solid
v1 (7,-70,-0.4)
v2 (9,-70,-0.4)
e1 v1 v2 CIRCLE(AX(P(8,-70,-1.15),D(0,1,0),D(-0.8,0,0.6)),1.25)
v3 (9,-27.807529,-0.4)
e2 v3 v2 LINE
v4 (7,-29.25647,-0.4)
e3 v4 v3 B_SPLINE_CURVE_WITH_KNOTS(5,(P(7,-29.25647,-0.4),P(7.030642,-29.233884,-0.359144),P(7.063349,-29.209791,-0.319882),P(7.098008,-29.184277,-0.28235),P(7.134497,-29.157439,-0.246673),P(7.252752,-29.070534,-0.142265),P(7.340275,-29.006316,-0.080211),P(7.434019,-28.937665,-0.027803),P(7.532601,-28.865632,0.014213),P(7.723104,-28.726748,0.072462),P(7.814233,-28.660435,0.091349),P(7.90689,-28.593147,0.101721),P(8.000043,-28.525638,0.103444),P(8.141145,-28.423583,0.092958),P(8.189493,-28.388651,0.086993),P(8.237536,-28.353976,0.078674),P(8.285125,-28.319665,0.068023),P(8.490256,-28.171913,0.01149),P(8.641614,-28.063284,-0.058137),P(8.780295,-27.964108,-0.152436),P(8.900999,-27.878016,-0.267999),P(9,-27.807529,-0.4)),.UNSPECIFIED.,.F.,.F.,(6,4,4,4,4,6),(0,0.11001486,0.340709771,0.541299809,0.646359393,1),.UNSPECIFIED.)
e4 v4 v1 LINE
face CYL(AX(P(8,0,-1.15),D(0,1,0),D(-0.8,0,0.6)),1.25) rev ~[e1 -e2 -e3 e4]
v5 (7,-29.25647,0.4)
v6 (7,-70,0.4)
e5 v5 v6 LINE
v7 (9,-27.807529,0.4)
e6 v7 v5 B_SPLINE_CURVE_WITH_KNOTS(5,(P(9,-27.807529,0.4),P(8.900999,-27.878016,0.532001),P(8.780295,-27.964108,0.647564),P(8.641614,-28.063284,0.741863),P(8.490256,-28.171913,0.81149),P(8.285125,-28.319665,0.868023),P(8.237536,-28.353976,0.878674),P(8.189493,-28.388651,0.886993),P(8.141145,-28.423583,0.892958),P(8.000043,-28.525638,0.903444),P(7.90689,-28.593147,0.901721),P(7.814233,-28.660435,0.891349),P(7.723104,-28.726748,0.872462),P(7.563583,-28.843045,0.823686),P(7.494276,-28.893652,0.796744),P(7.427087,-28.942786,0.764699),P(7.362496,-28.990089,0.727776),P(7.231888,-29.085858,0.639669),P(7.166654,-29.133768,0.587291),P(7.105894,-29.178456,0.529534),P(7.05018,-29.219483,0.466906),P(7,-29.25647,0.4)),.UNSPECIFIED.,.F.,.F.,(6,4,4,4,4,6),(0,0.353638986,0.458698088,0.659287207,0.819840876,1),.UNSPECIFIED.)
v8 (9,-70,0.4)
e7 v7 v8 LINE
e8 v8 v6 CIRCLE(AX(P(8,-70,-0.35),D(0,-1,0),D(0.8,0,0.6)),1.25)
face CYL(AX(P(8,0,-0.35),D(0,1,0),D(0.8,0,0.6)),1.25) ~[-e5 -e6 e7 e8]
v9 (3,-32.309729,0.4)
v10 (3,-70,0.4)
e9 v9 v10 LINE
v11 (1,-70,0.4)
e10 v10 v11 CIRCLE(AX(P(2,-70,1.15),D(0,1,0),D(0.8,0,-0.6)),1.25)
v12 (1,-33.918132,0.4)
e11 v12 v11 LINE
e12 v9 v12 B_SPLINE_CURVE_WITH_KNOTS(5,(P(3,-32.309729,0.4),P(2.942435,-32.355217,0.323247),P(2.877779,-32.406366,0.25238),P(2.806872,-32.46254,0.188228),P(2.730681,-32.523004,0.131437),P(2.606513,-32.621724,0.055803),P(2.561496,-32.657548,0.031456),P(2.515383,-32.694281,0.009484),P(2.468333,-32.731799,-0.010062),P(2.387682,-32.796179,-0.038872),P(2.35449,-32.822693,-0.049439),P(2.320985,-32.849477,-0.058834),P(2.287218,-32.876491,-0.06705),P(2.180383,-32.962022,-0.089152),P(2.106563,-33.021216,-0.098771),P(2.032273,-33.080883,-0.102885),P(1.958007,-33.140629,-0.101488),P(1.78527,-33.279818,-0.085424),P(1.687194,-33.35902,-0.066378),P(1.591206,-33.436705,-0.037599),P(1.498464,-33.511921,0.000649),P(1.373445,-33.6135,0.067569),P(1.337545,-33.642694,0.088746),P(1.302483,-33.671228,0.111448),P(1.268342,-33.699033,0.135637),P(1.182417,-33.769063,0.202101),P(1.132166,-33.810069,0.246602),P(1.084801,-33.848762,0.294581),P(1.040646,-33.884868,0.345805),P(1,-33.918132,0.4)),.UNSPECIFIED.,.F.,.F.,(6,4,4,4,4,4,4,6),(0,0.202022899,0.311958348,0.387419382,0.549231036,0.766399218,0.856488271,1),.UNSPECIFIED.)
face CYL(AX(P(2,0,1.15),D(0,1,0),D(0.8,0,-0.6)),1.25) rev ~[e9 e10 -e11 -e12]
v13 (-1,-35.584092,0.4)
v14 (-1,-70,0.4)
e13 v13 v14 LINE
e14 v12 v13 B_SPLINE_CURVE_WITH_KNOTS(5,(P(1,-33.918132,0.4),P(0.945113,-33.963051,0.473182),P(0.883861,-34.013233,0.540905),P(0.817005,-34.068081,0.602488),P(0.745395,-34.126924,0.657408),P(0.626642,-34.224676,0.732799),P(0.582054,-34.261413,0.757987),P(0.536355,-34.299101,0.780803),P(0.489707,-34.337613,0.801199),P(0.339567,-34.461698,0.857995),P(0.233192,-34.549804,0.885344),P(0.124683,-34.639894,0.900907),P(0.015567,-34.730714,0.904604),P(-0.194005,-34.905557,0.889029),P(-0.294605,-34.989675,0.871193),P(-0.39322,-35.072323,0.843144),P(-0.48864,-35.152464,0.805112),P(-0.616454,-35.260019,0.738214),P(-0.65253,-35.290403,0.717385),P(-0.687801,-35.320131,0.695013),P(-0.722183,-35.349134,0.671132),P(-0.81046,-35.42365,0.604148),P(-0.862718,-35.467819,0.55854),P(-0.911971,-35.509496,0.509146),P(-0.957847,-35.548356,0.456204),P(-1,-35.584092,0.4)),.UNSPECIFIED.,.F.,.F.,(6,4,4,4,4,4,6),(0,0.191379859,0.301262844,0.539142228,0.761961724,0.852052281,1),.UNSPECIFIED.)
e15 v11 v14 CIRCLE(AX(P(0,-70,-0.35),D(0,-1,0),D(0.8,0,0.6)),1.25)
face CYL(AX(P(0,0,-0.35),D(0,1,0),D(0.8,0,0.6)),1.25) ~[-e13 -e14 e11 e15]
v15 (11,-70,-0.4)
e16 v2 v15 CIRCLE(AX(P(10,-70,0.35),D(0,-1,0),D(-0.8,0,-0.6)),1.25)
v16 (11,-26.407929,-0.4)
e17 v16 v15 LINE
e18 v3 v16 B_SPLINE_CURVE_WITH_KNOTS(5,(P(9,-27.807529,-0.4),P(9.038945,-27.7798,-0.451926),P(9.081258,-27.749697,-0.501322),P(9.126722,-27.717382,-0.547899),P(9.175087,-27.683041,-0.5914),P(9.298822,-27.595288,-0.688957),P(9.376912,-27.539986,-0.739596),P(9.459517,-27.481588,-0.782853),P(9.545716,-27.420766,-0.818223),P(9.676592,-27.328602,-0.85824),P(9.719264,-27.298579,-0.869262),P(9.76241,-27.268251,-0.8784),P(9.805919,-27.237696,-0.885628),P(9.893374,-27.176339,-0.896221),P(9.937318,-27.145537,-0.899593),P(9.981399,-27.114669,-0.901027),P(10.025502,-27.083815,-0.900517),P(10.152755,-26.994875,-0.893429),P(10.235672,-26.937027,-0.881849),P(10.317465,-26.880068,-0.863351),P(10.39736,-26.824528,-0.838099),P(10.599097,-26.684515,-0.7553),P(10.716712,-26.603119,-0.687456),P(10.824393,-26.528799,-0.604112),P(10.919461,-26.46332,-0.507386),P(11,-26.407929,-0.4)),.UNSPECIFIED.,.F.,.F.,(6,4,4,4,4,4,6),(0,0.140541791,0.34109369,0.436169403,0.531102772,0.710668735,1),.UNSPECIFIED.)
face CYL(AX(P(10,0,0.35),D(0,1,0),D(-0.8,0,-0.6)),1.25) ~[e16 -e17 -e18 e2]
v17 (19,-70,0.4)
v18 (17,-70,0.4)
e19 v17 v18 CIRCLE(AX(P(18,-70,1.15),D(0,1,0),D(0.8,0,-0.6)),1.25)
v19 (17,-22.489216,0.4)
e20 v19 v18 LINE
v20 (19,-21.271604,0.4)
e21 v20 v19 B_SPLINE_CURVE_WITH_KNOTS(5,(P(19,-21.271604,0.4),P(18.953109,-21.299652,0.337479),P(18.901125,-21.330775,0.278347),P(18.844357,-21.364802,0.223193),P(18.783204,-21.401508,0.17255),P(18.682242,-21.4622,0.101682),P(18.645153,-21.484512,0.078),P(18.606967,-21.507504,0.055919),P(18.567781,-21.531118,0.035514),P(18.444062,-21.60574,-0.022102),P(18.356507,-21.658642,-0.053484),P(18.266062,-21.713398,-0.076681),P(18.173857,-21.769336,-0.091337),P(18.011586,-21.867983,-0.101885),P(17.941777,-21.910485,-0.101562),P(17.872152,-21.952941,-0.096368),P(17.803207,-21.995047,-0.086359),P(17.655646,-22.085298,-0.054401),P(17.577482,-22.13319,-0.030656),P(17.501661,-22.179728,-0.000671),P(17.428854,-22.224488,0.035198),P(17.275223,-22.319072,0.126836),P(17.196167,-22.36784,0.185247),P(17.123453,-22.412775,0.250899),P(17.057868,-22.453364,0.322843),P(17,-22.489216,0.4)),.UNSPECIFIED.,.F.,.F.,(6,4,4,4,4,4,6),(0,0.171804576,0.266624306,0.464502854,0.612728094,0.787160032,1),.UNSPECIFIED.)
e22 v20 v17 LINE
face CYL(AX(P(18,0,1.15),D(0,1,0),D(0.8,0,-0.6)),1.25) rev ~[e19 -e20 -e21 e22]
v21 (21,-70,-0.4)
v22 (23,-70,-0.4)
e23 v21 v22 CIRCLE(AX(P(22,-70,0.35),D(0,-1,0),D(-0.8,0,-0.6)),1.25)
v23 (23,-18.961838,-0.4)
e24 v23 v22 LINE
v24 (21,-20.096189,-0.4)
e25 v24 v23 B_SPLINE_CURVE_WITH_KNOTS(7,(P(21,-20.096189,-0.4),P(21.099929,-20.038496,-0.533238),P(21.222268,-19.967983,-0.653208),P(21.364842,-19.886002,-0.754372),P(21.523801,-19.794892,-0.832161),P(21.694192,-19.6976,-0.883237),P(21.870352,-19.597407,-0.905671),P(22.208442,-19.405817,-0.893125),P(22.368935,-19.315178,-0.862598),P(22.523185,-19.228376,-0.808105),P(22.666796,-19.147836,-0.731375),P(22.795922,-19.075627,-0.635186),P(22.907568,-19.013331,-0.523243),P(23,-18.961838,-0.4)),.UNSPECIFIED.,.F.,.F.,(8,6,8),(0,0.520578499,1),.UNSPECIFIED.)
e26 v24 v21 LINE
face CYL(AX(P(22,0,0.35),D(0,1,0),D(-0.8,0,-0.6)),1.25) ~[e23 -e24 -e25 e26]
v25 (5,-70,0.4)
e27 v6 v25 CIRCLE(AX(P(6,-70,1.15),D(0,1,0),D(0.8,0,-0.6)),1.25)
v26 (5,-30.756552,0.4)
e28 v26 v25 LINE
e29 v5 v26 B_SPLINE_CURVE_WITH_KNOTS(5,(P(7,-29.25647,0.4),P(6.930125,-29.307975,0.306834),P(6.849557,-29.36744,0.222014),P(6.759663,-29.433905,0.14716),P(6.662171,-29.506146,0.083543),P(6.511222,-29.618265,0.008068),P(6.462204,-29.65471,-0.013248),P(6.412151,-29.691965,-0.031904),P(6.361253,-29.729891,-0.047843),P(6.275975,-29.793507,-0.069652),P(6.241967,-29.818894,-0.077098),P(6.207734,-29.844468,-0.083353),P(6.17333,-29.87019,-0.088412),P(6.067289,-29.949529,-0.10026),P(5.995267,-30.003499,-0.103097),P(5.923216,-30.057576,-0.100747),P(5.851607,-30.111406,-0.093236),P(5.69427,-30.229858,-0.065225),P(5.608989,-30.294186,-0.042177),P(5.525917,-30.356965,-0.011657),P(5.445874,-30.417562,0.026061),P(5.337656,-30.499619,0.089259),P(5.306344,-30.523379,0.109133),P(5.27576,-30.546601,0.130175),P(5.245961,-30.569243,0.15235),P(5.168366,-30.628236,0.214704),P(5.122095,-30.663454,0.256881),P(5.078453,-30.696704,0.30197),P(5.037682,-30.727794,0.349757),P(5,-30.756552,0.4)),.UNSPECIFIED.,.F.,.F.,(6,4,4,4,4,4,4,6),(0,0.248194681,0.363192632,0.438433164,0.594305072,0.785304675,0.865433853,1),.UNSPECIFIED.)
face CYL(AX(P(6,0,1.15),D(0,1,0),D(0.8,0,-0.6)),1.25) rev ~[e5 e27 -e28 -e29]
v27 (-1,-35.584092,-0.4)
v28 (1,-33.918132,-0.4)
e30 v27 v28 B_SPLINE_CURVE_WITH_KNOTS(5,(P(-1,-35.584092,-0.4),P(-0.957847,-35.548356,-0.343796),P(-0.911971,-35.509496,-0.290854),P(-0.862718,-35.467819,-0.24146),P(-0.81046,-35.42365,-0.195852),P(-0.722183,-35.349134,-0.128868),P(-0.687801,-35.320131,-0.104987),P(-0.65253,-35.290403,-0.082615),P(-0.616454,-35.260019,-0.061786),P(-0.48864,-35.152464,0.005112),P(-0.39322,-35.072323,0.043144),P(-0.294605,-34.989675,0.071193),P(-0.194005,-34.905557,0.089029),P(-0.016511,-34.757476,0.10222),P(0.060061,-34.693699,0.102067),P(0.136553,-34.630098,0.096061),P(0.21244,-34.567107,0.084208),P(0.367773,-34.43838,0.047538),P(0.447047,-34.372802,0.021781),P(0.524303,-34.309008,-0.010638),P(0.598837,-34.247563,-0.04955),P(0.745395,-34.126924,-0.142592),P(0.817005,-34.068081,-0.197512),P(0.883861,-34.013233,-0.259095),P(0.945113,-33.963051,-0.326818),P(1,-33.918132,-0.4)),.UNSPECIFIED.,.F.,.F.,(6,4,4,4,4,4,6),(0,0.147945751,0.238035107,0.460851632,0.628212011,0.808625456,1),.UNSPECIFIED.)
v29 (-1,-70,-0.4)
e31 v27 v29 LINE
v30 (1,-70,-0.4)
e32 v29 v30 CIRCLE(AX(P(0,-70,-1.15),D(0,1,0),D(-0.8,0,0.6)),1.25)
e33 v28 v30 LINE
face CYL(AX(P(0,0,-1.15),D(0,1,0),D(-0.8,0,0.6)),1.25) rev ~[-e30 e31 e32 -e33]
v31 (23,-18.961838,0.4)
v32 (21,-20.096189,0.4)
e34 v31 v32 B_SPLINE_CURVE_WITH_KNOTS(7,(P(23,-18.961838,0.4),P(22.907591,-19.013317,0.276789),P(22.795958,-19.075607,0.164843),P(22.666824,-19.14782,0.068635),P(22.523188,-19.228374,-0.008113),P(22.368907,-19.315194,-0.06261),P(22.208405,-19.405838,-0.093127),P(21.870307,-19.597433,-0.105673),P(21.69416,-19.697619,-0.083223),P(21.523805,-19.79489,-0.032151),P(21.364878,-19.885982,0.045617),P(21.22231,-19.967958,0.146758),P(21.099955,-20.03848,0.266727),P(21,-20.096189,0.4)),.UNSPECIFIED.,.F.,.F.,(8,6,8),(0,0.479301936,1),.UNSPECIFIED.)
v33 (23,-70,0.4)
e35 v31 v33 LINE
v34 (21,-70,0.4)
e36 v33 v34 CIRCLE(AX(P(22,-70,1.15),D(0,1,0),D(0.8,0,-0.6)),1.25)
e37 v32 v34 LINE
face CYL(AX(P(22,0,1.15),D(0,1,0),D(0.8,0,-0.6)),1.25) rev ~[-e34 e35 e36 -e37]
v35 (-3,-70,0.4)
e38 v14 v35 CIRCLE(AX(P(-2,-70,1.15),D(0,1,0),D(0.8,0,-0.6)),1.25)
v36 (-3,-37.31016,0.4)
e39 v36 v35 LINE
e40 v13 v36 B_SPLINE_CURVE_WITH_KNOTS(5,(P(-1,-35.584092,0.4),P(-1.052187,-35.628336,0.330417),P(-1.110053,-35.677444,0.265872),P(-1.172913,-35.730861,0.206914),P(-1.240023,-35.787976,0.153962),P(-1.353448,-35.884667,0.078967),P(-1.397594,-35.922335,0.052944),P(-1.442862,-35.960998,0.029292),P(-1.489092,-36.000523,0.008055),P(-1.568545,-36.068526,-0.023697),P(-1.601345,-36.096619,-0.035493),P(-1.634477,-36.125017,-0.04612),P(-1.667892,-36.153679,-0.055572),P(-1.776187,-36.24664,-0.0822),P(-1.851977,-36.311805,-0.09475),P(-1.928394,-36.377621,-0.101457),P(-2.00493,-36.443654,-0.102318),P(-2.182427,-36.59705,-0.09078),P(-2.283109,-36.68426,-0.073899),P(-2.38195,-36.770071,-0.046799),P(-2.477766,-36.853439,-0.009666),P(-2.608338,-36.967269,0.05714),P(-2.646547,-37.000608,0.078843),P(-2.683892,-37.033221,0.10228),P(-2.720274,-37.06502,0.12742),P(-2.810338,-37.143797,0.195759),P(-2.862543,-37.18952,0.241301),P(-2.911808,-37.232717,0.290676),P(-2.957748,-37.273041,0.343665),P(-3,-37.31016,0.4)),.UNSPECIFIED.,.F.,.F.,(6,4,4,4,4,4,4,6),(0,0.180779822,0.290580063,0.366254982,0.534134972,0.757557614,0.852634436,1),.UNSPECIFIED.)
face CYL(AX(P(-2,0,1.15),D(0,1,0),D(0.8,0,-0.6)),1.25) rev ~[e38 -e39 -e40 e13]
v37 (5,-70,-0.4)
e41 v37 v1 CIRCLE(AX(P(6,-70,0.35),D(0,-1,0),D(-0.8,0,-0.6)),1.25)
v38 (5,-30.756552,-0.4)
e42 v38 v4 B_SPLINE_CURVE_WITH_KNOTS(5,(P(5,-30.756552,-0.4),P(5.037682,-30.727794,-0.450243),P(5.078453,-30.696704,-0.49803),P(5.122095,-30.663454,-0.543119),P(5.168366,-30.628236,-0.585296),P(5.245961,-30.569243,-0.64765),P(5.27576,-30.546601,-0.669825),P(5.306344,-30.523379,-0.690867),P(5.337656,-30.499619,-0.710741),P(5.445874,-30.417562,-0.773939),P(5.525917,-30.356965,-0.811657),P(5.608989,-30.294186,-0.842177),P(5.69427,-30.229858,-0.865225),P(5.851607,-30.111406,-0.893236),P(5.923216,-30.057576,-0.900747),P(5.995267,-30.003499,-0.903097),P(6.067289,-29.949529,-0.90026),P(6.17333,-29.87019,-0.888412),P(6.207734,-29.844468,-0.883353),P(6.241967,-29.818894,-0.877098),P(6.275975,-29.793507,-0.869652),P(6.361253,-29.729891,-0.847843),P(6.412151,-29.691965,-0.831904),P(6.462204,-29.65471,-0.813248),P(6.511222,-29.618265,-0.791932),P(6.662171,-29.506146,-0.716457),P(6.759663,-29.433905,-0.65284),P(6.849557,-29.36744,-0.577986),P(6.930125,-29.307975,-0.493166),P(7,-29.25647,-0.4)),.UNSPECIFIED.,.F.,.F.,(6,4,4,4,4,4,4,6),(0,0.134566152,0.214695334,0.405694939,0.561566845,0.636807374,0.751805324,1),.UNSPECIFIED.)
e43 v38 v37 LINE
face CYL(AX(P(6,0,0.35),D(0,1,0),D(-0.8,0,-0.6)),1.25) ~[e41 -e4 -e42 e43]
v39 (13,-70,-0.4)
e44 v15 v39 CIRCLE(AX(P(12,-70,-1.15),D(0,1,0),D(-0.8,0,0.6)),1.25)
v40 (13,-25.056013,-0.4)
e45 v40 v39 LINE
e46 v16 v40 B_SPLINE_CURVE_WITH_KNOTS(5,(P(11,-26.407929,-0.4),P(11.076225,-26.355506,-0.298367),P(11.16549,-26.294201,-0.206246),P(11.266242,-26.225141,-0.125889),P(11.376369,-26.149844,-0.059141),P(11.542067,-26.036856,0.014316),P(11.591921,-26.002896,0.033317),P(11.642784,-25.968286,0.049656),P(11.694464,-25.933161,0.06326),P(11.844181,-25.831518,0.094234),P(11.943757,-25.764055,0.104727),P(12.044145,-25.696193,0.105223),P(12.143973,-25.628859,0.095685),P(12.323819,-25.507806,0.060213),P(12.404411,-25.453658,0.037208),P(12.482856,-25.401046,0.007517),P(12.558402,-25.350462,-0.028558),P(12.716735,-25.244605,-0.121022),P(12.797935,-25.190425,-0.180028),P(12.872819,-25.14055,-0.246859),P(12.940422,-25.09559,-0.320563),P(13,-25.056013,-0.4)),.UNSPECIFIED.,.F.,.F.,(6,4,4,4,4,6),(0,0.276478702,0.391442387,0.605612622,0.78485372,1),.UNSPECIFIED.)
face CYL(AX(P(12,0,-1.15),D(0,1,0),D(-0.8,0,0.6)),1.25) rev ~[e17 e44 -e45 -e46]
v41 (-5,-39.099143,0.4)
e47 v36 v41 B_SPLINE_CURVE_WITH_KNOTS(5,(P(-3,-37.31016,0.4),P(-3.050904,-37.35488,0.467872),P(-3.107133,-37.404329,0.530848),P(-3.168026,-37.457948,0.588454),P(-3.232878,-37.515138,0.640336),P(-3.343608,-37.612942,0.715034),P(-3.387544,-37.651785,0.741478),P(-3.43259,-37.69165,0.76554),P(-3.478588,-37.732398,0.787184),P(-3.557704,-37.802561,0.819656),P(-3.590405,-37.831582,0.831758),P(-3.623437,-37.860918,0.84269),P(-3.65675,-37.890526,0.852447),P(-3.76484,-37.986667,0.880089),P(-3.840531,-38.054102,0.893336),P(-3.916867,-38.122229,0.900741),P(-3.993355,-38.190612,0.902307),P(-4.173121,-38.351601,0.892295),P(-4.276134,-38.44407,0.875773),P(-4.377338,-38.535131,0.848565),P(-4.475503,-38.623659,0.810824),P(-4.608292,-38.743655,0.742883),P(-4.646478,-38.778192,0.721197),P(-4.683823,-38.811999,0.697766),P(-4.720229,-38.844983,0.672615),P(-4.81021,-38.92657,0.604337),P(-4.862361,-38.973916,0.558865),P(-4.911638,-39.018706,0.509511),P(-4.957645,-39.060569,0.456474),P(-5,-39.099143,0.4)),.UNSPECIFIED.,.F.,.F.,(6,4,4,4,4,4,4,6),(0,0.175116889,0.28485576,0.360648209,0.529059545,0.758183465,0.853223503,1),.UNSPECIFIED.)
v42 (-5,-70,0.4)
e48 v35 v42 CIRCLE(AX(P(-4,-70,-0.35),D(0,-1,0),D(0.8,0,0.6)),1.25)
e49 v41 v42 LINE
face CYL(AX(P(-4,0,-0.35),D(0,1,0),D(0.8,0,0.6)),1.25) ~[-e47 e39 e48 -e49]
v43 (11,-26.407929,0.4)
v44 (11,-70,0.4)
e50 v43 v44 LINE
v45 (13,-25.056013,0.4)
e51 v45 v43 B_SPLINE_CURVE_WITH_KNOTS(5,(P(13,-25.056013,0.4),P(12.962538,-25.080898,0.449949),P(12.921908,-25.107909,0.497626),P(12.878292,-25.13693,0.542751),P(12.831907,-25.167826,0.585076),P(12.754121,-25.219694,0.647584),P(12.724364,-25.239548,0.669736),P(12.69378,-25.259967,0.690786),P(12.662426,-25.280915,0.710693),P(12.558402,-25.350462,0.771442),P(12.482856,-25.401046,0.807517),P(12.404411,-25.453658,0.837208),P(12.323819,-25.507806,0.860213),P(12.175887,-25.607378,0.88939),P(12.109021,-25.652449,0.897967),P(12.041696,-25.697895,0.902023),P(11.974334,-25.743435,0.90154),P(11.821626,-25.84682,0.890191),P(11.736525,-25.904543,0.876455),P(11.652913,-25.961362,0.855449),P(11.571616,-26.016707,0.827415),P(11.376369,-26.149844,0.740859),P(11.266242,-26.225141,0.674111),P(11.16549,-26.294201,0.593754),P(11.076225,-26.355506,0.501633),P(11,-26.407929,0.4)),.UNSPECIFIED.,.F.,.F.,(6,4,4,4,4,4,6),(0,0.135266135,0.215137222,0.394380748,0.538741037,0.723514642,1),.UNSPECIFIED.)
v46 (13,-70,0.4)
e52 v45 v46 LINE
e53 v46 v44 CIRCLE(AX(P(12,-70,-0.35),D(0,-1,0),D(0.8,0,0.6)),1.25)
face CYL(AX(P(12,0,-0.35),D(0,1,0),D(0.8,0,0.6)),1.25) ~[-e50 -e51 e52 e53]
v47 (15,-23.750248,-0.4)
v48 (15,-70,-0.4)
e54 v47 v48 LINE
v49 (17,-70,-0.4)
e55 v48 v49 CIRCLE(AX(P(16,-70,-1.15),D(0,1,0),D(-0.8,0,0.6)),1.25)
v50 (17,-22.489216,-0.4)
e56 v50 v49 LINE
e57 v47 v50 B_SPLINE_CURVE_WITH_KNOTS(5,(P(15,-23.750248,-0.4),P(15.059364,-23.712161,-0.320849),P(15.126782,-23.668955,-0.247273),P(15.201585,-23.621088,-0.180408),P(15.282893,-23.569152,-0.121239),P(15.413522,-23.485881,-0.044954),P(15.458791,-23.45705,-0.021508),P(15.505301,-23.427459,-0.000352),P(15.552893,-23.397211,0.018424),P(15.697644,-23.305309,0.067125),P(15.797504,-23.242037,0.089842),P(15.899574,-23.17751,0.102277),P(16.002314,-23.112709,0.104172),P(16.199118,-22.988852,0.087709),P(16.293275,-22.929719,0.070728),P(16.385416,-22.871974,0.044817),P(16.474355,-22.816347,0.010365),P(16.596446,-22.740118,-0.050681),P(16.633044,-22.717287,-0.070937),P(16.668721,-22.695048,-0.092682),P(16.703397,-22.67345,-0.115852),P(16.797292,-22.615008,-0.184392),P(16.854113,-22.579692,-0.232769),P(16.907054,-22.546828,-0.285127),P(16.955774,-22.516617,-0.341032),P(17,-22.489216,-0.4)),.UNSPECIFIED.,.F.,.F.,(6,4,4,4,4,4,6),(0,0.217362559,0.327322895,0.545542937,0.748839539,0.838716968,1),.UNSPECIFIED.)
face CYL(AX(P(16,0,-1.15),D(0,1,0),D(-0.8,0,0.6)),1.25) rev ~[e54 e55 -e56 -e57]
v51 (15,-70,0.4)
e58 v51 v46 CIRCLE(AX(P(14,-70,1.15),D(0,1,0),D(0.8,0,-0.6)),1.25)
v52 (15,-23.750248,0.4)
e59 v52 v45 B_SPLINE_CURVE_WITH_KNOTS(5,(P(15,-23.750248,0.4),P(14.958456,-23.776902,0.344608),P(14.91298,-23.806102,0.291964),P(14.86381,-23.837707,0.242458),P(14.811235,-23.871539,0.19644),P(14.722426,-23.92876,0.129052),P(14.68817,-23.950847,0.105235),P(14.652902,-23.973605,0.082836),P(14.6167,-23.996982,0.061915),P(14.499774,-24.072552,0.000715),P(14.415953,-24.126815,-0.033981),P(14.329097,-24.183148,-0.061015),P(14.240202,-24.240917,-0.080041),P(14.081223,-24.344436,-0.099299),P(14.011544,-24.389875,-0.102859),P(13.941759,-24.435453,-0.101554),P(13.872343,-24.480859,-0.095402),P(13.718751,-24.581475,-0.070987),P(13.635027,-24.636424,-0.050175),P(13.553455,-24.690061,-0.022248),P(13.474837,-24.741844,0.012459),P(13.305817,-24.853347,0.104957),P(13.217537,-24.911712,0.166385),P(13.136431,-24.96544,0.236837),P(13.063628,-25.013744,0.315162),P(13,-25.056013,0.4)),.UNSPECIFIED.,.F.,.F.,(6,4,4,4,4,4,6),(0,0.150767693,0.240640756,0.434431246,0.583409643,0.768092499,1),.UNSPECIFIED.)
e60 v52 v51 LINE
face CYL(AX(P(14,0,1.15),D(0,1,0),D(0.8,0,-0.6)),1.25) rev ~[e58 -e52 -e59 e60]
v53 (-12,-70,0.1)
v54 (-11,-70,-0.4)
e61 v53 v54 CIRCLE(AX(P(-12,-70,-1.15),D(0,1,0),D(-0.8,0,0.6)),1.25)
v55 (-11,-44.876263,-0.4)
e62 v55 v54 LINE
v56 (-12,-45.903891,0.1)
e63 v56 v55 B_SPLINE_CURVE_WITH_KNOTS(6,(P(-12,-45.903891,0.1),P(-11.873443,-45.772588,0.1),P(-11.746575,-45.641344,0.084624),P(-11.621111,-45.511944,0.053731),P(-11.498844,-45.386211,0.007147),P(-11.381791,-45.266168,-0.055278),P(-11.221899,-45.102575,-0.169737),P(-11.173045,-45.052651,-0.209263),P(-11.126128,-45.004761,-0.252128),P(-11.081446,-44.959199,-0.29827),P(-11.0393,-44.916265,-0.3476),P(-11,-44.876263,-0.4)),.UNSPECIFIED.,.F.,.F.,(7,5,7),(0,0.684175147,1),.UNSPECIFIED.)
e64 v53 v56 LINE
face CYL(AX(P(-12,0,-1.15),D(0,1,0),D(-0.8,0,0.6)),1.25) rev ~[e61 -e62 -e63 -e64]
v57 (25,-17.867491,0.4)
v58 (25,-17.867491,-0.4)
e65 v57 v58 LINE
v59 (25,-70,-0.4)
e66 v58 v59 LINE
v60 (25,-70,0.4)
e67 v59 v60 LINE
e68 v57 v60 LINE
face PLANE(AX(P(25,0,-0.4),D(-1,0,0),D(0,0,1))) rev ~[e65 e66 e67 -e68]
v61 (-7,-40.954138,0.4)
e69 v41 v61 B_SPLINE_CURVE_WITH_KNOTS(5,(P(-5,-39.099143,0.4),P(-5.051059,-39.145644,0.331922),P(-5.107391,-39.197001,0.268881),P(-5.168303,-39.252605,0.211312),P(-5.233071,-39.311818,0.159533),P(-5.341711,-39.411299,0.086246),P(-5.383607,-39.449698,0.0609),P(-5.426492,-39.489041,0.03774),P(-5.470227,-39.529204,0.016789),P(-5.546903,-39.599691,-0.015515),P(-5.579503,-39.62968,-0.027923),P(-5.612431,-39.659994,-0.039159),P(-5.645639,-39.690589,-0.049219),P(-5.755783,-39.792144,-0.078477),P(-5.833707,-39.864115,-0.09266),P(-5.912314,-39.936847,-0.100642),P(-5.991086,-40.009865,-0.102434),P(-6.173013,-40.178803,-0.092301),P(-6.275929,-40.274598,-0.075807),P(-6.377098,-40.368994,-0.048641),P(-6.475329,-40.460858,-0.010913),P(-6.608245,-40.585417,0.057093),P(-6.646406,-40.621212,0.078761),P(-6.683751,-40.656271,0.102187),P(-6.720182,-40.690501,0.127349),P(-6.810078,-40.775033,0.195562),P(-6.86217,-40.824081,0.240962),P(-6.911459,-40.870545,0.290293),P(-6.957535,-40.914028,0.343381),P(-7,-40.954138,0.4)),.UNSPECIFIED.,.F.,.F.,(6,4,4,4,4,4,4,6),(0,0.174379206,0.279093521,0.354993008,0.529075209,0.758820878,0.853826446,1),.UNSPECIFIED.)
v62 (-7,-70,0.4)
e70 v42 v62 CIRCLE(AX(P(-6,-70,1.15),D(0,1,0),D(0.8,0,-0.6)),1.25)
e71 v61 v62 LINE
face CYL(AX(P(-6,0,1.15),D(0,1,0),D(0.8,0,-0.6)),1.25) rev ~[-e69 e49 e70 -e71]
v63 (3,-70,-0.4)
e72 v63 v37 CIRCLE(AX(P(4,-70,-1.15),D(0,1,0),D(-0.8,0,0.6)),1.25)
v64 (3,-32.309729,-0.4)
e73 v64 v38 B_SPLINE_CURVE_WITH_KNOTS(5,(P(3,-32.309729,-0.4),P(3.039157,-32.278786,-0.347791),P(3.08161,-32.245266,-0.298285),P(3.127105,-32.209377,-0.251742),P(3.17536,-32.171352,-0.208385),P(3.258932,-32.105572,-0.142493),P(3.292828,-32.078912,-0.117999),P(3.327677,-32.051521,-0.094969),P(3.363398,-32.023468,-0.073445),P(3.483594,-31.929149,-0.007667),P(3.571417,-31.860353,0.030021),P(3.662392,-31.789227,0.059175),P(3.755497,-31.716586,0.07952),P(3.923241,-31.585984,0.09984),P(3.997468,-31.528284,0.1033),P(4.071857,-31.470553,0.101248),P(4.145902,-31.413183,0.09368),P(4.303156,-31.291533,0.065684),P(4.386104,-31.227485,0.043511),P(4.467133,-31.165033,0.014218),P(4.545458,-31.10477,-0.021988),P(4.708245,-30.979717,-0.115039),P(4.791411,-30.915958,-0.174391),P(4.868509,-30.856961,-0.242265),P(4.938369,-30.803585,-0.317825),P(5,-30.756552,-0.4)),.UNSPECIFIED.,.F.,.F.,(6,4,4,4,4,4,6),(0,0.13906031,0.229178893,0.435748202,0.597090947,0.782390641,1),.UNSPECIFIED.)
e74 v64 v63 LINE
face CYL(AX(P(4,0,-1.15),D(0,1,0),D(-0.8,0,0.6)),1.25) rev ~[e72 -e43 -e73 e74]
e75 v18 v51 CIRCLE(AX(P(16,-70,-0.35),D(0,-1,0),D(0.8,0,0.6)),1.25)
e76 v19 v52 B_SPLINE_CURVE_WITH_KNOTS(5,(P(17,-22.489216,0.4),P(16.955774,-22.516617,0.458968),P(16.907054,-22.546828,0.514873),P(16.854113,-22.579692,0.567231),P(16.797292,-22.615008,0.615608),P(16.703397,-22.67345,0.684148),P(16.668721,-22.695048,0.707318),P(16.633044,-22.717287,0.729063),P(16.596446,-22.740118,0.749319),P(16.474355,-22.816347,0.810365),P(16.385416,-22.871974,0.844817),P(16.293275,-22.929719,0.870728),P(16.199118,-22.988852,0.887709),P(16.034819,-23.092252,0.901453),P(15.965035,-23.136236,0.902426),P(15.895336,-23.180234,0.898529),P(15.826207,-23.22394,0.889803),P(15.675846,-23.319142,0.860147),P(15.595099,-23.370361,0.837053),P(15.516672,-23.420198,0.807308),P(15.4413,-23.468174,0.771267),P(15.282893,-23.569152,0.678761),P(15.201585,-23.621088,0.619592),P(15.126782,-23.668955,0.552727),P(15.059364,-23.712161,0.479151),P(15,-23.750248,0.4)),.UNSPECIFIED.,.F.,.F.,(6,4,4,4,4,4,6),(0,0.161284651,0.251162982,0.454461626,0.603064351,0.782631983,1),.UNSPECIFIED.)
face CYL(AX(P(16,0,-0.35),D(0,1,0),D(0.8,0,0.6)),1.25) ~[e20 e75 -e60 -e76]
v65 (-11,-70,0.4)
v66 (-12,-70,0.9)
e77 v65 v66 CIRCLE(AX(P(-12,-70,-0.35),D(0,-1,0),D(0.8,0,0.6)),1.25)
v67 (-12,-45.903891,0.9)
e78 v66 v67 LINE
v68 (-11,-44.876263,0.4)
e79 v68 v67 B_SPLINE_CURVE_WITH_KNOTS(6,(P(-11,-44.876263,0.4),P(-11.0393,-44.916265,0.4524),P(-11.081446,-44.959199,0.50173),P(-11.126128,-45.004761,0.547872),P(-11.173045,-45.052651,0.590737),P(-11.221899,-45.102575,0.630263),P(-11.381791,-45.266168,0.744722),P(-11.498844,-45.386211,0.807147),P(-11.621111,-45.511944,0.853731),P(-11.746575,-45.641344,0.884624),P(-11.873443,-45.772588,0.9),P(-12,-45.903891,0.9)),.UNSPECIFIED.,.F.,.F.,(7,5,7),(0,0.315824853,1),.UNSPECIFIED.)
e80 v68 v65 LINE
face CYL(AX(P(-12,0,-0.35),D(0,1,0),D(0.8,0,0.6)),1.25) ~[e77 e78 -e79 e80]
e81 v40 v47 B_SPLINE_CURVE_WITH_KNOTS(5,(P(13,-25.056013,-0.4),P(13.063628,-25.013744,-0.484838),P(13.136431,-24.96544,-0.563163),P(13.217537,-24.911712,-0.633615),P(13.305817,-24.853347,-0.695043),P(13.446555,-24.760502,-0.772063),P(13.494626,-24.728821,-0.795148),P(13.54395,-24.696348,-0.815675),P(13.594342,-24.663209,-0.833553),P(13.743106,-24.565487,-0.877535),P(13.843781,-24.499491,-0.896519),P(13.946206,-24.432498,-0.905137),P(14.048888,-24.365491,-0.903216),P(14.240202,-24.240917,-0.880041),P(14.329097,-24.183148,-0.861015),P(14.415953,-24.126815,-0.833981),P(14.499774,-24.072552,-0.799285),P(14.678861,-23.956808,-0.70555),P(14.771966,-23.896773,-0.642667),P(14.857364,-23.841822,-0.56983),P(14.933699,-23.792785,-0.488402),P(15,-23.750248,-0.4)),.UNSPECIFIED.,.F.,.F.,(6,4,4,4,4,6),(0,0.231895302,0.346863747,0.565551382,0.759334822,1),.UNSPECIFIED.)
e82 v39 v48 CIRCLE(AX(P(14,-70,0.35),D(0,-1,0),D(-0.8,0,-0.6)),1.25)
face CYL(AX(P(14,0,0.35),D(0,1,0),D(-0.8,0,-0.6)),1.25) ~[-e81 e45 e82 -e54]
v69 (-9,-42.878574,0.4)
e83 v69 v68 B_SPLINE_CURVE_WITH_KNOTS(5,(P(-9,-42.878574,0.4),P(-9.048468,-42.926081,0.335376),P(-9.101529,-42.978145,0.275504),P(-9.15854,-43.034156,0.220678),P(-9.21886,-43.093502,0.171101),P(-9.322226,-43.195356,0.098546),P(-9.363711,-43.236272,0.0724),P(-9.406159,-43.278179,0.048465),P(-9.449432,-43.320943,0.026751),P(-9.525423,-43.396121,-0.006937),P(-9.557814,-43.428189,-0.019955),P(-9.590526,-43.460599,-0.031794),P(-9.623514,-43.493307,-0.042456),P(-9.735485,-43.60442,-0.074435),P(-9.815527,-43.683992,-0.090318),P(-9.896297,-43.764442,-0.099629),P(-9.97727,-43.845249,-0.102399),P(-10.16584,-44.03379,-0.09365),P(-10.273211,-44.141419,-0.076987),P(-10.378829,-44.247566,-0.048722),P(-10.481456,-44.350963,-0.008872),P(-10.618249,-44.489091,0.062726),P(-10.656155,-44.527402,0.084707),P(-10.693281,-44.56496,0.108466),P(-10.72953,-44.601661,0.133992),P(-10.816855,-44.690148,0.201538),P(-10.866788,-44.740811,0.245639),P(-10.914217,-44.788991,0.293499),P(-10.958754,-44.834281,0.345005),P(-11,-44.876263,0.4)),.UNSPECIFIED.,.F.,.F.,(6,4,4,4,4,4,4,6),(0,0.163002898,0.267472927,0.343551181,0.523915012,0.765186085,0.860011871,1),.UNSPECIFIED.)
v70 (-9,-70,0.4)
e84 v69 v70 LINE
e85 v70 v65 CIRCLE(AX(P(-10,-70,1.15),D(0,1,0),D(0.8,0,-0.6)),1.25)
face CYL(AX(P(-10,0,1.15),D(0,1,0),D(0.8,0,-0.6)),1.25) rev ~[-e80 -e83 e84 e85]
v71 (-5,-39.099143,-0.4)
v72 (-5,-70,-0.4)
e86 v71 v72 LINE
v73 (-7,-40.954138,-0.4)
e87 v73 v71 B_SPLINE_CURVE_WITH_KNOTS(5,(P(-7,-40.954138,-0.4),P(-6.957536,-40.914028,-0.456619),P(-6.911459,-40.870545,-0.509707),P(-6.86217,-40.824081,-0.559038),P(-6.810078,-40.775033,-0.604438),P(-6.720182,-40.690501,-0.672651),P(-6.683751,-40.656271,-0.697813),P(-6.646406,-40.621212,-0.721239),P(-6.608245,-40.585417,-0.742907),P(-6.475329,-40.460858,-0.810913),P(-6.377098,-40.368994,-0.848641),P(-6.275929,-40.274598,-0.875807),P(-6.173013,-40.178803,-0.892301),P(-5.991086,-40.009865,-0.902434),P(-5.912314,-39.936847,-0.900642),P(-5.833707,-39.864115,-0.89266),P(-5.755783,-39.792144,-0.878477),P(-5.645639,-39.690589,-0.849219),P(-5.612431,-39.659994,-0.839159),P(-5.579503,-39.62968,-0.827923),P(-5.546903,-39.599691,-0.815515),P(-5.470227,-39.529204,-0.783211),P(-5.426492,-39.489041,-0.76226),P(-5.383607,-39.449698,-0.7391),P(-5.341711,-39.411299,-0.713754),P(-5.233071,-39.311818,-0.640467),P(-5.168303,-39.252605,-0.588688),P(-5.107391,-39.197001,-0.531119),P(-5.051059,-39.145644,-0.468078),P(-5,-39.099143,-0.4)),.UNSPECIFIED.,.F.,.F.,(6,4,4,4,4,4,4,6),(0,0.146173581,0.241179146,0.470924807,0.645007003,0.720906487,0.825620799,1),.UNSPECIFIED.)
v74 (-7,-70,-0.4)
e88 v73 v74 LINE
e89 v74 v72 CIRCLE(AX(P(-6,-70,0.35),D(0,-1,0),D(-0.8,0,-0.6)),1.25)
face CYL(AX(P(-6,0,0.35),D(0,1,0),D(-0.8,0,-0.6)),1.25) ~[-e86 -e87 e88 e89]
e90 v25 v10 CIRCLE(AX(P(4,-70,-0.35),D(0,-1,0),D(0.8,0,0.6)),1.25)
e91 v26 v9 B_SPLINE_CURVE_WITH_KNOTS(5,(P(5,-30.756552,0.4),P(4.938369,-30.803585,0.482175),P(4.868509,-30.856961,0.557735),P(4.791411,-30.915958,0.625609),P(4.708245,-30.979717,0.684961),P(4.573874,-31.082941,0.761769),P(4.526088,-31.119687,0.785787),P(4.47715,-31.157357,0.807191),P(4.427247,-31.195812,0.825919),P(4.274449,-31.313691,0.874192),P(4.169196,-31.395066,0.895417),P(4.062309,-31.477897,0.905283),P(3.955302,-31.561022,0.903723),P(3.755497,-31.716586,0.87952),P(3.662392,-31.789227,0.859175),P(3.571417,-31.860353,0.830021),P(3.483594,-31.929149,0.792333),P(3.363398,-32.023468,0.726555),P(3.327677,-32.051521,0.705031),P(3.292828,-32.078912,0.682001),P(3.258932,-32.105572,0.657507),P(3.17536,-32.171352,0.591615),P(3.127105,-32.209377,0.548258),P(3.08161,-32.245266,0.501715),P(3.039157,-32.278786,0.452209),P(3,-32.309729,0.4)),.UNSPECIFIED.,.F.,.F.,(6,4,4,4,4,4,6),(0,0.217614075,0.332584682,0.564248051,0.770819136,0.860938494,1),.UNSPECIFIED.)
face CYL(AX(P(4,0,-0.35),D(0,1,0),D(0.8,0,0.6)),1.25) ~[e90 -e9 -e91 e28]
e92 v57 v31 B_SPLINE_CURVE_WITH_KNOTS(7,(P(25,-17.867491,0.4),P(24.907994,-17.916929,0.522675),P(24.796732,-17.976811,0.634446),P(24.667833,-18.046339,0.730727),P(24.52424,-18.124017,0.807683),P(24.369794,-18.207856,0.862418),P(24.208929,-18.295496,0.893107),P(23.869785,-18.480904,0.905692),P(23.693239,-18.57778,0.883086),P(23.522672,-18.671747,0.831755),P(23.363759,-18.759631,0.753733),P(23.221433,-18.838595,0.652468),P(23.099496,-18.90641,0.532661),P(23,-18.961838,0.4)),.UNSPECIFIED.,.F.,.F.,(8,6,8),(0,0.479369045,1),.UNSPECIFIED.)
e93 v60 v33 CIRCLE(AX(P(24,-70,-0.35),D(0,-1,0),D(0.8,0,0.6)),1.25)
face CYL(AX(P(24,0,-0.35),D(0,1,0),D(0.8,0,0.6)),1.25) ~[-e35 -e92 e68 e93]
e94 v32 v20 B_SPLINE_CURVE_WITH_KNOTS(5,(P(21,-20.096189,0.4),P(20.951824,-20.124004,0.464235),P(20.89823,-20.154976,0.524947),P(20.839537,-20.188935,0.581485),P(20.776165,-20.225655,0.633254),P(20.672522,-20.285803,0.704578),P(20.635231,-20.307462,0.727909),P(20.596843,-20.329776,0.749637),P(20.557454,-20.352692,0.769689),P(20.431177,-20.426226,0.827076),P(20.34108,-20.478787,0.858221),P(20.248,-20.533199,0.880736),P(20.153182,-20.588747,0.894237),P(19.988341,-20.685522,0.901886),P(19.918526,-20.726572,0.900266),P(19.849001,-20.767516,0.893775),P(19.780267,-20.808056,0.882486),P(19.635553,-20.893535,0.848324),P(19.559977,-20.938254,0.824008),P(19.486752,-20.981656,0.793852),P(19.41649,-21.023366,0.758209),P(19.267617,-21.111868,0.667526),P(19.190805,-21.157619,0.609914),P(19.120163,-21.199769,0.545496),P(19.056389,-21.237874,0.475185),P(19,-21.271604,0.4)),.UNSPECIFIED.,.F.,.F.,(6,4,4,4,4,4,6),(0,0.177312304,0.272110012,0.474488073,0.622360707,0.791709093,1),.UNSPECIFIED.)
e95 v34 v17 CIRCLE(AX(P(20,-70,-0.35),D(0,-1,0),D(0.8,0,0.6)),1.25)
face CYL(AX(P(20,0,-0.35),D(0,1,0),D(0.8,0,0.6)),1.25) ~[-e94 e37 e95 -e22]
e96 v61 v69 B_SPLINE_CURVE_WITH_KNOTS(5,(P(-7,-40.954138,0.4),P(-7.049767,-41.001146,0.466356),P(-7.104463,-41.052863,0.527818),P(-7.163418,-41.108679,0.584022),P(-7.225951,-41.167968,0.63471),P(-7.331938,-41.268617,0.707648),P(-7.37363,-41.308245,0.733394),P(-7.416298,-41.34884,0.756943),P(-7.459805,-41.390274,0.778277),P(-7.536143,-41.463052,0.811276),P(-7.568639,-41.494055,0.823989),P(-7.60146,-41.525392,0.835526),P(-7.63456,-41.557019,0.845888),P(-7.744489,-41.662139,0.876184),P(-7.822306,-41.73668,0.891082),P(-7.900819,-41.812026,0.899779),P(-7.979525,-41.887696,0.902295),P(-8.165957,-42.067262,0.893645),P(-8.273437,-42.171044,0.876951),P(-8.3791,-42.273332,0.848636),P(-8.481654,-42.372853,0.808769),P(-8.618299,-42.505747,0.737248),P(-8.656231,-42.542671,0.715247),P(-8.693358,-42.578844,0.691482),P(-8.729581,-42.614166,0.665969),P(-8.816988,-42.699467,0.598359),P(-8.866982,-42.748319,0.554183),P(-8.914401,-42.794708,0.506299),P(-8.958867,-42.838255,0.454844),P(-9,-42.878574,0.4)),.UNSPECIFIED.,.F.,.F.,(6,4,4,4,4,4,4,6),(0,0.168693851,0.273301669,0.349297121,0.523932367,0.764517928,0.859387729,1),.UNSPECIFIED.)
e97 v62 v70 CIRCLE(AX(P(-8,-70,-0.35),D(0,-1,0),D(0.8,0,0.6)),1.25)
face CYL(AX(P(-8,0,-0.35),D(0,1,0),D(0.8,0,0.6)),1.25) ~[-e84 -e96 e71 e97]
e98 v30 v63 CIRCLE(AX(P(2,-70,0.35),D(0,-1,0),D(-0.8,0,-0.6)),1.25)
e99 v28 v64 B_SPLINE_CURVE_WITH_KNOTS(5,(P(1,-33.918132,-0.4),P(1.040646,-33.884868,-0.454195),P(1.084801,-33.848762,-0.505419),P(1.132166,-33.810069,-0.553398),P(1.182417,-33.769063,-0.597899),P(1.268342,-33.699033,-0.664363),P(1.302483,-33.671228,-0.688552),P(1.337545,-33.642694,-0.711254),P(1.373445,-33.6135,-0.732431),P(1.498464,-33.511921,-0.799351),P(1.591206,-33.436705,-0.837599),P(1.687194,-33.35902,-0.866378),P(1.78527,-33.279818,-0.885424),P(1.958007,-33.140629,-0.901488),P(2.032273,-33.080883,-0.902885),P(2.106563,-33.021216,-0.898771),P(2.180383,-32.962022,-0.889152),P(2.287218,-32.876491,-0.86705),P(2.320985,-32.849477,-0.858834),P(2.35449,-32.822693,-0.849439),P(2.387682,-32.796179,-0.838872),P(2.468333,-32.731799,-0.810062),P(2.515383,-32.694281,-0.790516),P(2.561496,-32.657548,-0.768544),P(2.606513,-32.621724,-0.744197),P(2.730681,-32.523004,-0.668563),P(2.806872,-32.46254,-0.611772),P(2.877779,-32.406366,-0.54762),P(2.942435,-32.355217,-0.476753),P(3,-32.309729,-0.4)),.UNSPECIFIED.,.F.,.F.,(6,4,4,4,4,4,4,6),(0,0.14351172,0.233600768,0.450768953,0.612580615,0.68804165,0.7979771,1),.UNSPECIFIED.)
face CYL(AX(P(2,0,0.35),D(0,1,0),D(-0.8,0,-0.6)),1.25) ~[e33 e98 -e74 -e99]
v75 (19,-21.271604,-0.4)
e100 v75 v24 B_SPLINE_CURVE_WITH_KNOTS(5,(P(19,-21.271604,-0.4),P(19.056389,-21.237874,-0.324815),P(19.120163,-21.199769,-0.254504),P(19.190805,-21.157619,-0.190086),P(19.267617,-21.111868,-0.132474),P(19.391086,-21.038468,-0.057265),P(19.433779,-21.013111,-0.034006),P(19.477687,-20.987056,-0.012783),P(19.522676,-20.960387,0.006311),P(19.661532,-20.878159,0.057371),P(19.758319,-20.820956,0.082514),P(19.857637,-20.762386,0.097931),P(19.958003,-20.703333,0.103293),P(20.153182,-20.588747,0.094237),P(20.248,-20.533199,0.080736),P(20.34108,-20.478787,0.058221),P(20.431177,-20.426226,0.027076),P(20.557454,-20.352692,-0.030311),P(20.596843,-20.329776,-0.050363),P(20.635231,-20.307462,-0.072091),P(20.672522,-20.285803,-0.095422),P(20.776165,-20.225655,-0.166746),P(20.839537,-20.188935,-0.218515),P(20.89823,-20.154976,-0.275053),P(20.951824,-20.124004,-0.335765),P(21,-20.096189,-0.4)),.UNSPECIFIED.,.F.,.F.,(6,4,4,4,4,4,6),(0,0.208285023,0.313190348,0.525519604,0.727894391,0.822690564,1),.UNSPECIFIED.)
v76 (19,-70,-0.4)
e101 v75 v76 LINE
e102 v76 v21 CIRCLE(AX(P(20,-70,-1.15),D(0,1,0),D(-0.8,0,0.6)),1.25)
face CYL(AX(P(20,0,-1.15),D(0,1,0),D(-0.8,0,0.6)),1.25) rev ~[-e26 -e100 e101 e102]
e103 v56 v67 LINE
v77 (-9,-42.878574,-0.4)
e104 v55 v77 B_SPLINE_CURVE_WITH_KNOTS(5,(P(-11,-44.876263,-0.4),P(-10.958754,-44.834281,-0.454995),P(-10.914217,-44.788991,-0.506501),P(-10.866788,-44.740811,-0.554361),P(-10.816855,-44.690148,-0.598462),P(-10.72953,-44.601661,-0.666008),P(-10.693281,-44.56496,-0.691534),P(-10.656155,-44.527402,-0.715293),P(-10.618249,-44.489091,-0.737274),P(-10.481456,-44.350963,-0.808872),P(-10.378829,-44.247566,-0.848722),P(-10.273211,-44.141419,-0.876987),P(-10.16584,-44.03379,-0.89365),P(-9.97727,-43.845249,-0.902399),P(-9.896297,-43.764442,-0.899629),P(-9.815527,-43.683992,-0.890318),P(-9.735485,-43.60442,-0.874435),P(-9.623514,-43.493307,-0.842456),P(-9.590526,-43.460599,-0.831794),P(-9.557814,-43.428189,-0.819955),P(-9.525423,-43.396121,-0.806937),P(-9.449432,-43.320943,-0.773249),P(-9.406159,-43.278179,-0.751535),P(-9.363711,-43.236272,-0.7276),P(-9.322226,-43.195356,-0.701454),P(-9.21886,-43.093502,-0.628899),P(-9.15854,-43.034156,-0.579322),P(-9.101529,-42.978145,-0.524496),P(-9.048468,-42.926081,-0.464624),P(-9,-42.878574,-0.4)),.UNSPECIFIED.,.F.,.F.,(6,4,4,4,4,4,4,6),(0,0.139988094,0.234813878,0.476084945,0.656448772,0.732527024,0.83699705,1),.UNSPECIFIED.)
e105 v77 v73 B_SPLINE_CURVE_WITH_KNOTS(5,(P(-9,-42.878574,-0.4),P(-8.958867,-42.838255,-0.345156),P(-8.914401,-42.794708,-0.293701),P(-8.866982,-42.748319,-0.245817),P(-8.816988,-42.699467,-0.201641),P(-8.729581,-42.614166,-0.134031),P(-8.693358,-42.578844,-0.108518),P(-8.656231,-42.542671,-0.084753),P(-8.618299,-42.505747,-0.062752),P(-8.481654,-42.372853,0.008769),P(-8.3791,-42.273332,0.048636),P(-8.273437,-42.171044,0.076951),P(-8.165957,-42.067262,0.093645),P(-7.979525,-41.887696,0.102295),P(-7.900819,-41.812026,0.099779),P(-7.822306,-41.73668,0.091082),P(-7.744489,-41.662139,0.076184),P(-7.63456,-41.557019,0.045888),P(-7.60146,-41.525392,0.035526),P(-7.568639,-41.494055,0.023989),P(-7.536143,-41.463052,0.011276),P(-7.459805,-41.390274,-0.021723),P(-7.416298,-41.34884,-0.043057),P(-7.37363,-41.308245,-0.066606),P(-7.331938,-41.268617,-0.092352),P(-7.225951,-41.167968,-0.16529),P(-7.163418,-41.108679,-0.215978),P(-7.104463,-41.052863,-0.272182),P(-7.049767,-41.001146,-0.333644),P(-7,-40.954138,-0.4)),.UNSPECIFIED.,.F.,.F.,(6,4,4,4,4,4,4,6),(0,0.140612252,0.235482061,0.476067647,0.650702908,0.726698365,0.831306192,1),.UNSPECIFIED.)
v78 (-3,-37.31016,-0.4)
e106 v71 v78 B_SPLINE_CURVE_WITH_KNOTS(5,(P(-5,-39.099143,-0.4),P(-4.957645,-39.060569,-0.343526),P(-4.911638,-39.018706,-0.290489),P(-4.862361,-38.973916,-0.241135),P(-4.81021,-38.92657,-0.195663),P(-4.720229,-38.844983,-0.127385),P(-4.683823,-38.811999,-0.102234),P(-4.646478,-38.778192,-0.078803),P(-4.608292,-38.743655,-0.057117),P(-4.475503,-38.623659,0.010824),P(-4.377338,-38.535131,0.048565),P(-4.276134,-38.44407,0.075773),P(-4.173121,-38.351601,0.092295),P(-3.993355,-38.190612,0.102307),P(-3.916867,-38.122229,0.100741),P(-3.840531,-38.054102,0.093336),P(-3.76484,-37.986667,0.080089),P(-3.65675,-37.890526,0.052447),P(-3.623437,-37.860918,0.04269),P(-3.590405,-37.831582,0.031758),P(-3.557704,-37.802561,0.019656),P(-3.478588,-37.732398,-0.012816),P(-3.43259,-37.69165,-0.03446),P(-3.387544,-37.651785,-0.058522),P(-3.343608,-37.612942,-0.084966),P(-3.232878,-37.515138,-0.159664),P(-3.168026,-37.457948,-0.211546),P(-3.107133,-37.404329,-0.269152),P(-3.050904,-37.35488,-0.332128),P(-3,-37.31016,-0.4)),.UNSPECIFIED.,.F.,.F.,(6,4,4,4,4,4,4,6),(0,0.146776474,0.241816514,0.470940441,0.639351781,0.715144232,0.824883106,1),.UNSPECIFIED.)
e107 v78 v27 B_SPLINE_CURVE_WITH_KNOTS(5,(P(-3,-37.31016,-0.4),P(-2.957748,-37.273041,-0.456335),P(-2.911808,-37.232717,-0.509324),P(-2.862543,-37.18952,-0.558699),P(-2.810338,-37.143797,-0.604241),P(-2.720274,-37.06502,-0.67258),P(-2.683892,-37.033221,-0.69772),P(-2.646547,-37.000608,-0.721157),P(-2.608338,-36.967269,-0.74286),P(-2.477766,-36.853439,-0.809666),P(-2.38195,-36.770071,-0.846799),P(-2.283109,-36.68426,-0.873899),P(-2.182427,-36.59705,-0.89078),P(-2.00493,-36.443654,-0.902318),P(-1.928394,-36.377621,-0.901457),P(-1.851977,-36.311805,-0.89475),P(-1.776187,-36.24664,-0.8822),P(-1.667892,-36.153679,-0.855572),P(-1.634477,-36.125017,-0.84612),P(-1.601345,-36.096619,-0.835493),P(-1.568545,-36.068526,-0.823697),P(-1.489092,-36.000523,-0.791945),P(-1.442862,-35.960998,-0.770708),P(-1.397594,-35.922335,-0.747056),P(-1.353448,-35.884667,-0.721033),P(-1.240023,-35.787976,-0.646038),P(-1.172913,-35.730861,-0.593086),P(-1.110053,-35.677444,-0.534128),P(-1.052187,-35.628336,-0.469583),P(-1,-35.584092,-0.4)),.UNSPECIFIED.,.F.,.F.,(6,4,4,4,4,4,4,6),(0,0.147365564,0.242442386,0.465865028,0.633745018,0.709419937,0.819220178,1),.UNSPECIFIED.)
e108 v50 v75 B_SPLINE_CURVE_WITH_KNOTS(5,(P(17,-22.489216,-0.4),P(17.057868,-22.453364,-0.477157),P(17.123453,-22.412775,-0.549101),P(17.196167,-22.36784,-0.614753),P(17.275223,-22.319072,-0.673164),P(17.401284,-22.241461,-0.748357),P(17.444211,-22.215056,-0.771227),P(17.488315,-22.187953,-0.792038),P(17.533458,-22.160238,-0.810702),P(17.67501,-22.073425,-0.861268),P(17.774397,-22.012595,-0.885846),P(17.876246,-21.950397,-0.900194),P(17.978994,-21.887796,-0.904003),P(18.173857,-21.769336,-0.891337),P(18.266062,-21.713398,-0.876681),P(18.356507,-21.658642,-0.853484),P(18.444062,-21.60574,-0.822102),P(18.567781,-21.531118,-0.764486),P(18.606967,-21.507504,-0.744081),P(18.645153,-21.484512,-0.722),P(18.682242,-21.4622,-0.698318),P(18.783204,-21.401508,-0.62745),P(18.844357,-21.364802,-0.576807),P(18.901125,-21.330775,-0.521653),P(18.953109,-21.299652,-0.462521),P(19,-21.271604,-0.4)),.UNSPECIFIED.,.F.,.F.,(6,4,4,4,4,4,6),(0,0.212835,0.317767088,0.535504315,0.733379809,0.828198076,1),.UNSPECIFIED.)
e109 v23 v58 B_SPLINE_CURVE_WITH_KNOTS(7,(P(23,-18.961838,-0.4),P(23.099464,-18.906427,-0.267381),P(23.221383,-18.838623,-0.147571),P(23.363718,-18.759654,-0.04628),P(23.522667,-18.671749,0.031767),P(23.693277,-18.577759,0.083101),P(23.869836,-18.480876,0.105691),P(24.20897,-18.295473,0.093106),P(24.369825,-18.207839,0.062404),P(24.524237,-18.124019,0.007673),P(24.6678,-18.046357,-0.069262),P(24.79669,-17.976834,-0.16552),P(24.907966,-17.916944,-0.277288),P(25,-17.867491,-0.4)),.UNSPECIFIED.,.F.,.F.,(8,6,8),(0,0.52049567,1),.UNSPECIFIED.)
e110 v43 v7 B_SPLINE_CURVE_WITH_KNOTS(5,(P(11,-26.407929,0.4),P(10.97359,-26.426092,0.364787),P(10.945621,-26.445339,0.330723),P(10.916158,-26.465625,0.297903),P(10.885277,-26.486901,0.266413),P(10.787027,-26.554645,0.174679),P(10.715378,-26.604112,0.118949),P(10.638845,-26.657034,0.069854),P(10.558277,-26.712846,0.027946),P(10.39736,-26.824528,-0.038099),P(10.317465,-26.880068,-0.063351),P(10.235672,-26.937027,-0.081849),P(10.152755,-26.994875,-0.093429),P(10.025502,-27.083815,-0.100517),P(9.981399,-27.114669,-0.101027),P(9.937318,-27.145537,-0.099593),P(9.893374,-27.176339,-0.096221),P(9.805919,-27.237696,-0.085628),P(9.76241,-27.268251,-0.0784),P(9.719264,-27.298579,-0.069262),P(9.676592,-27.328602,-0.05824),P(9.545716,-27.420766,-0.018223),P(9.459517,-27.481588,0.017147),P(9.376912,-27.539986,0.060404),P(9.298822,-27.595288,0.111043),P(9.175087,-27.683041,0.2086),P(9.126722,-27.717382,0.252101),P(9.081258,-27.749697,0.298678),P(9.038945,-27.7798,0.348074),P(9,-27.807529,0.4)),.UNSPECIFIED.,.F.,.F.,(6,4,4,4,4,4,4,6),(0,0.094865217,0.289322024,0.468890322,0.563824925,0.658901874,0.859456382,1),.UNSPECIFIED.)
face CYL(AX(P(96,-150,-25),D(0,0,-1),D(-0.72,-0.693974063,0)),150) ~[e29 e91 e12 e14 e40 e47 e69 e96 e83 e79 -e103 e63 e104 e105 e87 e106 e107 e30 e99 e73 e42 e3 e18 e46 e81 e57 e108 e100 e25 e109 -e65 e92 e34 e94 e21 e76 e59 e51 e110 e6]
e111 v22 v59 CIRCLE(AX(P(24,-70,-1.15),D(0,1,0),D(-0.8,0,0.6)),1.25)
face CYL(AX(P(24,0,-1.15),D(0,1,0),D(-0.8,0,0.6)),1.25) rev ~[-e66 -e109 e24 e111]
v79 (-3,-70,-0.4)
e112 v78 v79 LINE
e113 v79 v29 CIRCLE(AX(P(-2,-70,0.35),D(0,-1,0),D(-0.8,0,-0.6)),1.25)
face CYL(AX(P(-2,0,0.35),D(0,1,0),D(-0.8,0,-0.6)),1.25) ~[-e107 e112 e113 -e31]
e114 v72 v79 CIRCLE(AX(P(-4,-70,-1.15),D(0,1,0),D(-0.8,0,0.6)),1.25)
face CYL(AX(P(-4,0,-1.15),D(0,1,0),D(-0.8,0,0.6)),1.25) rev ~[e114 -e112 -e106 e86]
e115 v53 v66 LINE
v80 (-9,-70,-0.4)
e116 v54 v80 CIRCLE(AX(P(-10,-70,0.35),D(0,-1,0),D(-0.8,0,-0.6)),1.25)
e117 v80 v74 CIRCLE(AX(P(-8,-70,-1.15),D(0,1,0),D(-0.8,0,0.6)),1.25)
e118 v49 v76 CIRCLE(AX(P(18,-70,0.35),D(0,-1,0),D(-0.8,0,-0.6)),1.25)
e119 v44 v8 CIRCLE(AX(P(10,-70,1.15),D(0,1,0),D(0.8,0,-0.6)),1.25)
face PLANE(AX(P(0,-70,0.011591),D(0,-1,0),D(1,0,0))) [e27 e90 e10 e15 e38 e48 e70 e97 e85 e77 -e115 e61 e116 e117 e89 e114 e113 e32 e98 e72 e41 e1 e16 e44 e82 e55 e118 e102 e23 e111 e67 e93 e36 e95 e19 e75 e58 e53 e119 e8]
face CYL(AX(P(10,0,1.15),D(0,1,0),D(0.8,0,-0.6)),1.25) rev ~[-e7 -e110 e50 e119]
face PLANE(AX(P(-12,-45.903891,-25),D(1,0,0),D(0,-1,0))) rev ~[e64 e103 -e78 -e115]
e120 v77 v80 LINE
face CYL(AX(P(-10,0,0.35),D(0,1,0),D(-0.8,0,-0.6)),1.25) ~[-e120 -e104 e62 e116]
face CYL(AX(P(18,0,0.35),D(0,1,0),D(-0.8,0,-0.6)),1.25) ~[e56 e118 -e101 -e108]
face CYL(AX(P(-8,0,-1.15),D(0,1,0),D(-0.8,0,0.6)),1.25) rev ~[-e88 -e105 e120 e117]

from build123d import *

# Parameters (mm, degrees)
F1_DEPTH = 70
F3_START = -25
F3_DEPTH = 50


with BuildPart() as f1:
    # F0 (on Front) → F1 (new body)
    with BuildSketch(Plane.XZ):
        with BuildLine():
            ThreePointArc((-21, -0.4), (-20, 0.1), (-19, -0.4))
            ThreePointArc((-19, -0.4), (-18, -0.9), (-17, -0.4))
            ThreePointArc((-17, -0.4), (-16, 0.1), (-15, -0.4))
            ThreePointArc((-15, -0.4), (-14, -0.9), (-13, -0.4))
            ThreePointArc((-13, -0.4), (-12, 0.1), (-11, -0.4))
            ThreePointArc((-11, -0.4), (-10, -0.9), (-9, -0.4))
            ThreePointArc((-9, -0.4), (-8, 0.1), (-7, -0.4))
            ThreePointArc((-7, -0.4), (-6, -0.9), (-5, -0.4))
            ThreePointArc((-5, -0.4), (-4, 0.1), (-3, -0.4))
            ThreePointArc((-3, -0.4), (-2, -0.9), (-1, -0.4))
            ThreePointArc((-1, -0.4), (0, 0.1), (1, -0.4))
            ThreePointArc((1, -0.4), (2, -0.9), (3, -0.4))
            ThreePointArc((3, -0.4), (4, 0.1), (5, -0.4))
            ThreePointArc((5, -0.4), (6, -0.9), (7, -0.4))
            ThreePointArc((7, -0.4), (8, 0.1), (9, -0.4))
            ThreePointArc((9, -0.4), (10, -0.9), (11, -0.4))
            ThreePointArc((11, -0.4), (12, 0.1), (13, -0.4))
            ThreePointArc((13, -0.4), (14, -0.9), (15, -0.4))
            ThreePointArc((15, -0.4), (16, 0.1), (17, -0.4))
            ThreePointArc((17, -0.4), (18, -0.9), (19, -0.4))
            ThreePointArc((19, -0.4), (20, 0.1), (21, -0.4))
            ThreePointArc((21, -0.4), (22, -0.9), (23, -0.4))
            ThreePointArc((23, -0.4), (24, 0.1), (25, -0.4))
            Line((25, -0.4), (25, 0.4))
            ThreePointArc((25, 0.4), (24, 0.9), (23, 0.4))
            ThreePointArc((23, 0.4), (22, -0.1), (21, 0.4))
            ThreePointArc((21, 0.4), (20, 0.9), (19, 0.4))
            ThreePointArc((19, 0.4), (18, -0.1), (17, 0.4))
            ThreePointArc((17, 0.4), (16, 0.9), (15, 0.4))
            ThreePointArc((15, 0.4), (14, -0.1), (13, 0.4))
            ThreePointArc((13, 0.4), (12, 0.9), (11, 0.4))
            ThreePointArc((11, 0.4), (10, -0.1), (9, 0.4))
            ThreePointArc((9, 0.4), (8, 0.9), (7, 0.4))
            ThreePointArc((7, 0.4), (6, -0.1), (5, 0.4))
            ThreePointArc((5, 0.4), (4, 0.9), (3, 0.4))
            ThreePointArc((3, 0.4), (2, -0.1), (1, 0.4))
            ThreePointArc((1, 0.4), (0, 0.9), (-1, 0.4))
            ThreePointArc((-1, 0.4), (-2, -0.1), (-3, 0.4))
            ThreePointArc((-3, 0.4), (-4, 0.9), (-5, 0.4))
            ThreePointArc((-5, 0.4), (-6, -0.1), (-7, 0.4))
            ThreePointArc((-7, 0.4), (-8, 0.9), (-9, 0.4))
            ThreePointArc((-9, 0.4), (-10, -0.1), (-11, 0.4))
            ThreePointArc((-11, 0.4), (-12, 0.9), (-13, 0.4))
            ThreePointArc((-13, 0.4), (-14, -0.1), (-15, 0.4))
            ThreePointArc((-15, 0.4), (-16, 0.9), (-17, 0.4))
            ThreePointArc((-17, 0.4), (-18, -0.1), (-19, 0.4))
            ThreePointArc((-19, 0.4), (-20, 0.9), (-21, 0.4))
            ThreePointArc((-21, 0.4), (-22, -0.1), (-23, 0.4))
            ThreePointArc((-23, 0.4), (-24, 0.9), (-25, 0.4))
            Line((-25, 0.4), (-25, -0.4))
            ThreePointArc((-25, -0.4), (-24, 0.1), (-23, -0.4))
            ThreePointArc((-23, -0.4), (-22, -0.9), (-21, -0.4))
        make_face()
    extrude(amount=F1_DEPTH)

    # F2 (on Top) → F3 (intersect)
    with BuildSketch(Plane.XY.offset(F3_START)):
        with BuildLine():
            ThreePointArc((-12, -254.0961094374), (152.1248608016, -289.1042774324), (246, -150))
            ThreePointArc((246, -150), (152.1248608016, -10.8957225676), (-12, -45.9038905626))
            Line((-12, -45.9038905626), (-12, -150))
            Line((-12, -150), (-12, -254.0961094374))
        make_face()
    extrude(amount=F3_DEPTH, mode=Mode.INTERSECT)


solid = f1.part
